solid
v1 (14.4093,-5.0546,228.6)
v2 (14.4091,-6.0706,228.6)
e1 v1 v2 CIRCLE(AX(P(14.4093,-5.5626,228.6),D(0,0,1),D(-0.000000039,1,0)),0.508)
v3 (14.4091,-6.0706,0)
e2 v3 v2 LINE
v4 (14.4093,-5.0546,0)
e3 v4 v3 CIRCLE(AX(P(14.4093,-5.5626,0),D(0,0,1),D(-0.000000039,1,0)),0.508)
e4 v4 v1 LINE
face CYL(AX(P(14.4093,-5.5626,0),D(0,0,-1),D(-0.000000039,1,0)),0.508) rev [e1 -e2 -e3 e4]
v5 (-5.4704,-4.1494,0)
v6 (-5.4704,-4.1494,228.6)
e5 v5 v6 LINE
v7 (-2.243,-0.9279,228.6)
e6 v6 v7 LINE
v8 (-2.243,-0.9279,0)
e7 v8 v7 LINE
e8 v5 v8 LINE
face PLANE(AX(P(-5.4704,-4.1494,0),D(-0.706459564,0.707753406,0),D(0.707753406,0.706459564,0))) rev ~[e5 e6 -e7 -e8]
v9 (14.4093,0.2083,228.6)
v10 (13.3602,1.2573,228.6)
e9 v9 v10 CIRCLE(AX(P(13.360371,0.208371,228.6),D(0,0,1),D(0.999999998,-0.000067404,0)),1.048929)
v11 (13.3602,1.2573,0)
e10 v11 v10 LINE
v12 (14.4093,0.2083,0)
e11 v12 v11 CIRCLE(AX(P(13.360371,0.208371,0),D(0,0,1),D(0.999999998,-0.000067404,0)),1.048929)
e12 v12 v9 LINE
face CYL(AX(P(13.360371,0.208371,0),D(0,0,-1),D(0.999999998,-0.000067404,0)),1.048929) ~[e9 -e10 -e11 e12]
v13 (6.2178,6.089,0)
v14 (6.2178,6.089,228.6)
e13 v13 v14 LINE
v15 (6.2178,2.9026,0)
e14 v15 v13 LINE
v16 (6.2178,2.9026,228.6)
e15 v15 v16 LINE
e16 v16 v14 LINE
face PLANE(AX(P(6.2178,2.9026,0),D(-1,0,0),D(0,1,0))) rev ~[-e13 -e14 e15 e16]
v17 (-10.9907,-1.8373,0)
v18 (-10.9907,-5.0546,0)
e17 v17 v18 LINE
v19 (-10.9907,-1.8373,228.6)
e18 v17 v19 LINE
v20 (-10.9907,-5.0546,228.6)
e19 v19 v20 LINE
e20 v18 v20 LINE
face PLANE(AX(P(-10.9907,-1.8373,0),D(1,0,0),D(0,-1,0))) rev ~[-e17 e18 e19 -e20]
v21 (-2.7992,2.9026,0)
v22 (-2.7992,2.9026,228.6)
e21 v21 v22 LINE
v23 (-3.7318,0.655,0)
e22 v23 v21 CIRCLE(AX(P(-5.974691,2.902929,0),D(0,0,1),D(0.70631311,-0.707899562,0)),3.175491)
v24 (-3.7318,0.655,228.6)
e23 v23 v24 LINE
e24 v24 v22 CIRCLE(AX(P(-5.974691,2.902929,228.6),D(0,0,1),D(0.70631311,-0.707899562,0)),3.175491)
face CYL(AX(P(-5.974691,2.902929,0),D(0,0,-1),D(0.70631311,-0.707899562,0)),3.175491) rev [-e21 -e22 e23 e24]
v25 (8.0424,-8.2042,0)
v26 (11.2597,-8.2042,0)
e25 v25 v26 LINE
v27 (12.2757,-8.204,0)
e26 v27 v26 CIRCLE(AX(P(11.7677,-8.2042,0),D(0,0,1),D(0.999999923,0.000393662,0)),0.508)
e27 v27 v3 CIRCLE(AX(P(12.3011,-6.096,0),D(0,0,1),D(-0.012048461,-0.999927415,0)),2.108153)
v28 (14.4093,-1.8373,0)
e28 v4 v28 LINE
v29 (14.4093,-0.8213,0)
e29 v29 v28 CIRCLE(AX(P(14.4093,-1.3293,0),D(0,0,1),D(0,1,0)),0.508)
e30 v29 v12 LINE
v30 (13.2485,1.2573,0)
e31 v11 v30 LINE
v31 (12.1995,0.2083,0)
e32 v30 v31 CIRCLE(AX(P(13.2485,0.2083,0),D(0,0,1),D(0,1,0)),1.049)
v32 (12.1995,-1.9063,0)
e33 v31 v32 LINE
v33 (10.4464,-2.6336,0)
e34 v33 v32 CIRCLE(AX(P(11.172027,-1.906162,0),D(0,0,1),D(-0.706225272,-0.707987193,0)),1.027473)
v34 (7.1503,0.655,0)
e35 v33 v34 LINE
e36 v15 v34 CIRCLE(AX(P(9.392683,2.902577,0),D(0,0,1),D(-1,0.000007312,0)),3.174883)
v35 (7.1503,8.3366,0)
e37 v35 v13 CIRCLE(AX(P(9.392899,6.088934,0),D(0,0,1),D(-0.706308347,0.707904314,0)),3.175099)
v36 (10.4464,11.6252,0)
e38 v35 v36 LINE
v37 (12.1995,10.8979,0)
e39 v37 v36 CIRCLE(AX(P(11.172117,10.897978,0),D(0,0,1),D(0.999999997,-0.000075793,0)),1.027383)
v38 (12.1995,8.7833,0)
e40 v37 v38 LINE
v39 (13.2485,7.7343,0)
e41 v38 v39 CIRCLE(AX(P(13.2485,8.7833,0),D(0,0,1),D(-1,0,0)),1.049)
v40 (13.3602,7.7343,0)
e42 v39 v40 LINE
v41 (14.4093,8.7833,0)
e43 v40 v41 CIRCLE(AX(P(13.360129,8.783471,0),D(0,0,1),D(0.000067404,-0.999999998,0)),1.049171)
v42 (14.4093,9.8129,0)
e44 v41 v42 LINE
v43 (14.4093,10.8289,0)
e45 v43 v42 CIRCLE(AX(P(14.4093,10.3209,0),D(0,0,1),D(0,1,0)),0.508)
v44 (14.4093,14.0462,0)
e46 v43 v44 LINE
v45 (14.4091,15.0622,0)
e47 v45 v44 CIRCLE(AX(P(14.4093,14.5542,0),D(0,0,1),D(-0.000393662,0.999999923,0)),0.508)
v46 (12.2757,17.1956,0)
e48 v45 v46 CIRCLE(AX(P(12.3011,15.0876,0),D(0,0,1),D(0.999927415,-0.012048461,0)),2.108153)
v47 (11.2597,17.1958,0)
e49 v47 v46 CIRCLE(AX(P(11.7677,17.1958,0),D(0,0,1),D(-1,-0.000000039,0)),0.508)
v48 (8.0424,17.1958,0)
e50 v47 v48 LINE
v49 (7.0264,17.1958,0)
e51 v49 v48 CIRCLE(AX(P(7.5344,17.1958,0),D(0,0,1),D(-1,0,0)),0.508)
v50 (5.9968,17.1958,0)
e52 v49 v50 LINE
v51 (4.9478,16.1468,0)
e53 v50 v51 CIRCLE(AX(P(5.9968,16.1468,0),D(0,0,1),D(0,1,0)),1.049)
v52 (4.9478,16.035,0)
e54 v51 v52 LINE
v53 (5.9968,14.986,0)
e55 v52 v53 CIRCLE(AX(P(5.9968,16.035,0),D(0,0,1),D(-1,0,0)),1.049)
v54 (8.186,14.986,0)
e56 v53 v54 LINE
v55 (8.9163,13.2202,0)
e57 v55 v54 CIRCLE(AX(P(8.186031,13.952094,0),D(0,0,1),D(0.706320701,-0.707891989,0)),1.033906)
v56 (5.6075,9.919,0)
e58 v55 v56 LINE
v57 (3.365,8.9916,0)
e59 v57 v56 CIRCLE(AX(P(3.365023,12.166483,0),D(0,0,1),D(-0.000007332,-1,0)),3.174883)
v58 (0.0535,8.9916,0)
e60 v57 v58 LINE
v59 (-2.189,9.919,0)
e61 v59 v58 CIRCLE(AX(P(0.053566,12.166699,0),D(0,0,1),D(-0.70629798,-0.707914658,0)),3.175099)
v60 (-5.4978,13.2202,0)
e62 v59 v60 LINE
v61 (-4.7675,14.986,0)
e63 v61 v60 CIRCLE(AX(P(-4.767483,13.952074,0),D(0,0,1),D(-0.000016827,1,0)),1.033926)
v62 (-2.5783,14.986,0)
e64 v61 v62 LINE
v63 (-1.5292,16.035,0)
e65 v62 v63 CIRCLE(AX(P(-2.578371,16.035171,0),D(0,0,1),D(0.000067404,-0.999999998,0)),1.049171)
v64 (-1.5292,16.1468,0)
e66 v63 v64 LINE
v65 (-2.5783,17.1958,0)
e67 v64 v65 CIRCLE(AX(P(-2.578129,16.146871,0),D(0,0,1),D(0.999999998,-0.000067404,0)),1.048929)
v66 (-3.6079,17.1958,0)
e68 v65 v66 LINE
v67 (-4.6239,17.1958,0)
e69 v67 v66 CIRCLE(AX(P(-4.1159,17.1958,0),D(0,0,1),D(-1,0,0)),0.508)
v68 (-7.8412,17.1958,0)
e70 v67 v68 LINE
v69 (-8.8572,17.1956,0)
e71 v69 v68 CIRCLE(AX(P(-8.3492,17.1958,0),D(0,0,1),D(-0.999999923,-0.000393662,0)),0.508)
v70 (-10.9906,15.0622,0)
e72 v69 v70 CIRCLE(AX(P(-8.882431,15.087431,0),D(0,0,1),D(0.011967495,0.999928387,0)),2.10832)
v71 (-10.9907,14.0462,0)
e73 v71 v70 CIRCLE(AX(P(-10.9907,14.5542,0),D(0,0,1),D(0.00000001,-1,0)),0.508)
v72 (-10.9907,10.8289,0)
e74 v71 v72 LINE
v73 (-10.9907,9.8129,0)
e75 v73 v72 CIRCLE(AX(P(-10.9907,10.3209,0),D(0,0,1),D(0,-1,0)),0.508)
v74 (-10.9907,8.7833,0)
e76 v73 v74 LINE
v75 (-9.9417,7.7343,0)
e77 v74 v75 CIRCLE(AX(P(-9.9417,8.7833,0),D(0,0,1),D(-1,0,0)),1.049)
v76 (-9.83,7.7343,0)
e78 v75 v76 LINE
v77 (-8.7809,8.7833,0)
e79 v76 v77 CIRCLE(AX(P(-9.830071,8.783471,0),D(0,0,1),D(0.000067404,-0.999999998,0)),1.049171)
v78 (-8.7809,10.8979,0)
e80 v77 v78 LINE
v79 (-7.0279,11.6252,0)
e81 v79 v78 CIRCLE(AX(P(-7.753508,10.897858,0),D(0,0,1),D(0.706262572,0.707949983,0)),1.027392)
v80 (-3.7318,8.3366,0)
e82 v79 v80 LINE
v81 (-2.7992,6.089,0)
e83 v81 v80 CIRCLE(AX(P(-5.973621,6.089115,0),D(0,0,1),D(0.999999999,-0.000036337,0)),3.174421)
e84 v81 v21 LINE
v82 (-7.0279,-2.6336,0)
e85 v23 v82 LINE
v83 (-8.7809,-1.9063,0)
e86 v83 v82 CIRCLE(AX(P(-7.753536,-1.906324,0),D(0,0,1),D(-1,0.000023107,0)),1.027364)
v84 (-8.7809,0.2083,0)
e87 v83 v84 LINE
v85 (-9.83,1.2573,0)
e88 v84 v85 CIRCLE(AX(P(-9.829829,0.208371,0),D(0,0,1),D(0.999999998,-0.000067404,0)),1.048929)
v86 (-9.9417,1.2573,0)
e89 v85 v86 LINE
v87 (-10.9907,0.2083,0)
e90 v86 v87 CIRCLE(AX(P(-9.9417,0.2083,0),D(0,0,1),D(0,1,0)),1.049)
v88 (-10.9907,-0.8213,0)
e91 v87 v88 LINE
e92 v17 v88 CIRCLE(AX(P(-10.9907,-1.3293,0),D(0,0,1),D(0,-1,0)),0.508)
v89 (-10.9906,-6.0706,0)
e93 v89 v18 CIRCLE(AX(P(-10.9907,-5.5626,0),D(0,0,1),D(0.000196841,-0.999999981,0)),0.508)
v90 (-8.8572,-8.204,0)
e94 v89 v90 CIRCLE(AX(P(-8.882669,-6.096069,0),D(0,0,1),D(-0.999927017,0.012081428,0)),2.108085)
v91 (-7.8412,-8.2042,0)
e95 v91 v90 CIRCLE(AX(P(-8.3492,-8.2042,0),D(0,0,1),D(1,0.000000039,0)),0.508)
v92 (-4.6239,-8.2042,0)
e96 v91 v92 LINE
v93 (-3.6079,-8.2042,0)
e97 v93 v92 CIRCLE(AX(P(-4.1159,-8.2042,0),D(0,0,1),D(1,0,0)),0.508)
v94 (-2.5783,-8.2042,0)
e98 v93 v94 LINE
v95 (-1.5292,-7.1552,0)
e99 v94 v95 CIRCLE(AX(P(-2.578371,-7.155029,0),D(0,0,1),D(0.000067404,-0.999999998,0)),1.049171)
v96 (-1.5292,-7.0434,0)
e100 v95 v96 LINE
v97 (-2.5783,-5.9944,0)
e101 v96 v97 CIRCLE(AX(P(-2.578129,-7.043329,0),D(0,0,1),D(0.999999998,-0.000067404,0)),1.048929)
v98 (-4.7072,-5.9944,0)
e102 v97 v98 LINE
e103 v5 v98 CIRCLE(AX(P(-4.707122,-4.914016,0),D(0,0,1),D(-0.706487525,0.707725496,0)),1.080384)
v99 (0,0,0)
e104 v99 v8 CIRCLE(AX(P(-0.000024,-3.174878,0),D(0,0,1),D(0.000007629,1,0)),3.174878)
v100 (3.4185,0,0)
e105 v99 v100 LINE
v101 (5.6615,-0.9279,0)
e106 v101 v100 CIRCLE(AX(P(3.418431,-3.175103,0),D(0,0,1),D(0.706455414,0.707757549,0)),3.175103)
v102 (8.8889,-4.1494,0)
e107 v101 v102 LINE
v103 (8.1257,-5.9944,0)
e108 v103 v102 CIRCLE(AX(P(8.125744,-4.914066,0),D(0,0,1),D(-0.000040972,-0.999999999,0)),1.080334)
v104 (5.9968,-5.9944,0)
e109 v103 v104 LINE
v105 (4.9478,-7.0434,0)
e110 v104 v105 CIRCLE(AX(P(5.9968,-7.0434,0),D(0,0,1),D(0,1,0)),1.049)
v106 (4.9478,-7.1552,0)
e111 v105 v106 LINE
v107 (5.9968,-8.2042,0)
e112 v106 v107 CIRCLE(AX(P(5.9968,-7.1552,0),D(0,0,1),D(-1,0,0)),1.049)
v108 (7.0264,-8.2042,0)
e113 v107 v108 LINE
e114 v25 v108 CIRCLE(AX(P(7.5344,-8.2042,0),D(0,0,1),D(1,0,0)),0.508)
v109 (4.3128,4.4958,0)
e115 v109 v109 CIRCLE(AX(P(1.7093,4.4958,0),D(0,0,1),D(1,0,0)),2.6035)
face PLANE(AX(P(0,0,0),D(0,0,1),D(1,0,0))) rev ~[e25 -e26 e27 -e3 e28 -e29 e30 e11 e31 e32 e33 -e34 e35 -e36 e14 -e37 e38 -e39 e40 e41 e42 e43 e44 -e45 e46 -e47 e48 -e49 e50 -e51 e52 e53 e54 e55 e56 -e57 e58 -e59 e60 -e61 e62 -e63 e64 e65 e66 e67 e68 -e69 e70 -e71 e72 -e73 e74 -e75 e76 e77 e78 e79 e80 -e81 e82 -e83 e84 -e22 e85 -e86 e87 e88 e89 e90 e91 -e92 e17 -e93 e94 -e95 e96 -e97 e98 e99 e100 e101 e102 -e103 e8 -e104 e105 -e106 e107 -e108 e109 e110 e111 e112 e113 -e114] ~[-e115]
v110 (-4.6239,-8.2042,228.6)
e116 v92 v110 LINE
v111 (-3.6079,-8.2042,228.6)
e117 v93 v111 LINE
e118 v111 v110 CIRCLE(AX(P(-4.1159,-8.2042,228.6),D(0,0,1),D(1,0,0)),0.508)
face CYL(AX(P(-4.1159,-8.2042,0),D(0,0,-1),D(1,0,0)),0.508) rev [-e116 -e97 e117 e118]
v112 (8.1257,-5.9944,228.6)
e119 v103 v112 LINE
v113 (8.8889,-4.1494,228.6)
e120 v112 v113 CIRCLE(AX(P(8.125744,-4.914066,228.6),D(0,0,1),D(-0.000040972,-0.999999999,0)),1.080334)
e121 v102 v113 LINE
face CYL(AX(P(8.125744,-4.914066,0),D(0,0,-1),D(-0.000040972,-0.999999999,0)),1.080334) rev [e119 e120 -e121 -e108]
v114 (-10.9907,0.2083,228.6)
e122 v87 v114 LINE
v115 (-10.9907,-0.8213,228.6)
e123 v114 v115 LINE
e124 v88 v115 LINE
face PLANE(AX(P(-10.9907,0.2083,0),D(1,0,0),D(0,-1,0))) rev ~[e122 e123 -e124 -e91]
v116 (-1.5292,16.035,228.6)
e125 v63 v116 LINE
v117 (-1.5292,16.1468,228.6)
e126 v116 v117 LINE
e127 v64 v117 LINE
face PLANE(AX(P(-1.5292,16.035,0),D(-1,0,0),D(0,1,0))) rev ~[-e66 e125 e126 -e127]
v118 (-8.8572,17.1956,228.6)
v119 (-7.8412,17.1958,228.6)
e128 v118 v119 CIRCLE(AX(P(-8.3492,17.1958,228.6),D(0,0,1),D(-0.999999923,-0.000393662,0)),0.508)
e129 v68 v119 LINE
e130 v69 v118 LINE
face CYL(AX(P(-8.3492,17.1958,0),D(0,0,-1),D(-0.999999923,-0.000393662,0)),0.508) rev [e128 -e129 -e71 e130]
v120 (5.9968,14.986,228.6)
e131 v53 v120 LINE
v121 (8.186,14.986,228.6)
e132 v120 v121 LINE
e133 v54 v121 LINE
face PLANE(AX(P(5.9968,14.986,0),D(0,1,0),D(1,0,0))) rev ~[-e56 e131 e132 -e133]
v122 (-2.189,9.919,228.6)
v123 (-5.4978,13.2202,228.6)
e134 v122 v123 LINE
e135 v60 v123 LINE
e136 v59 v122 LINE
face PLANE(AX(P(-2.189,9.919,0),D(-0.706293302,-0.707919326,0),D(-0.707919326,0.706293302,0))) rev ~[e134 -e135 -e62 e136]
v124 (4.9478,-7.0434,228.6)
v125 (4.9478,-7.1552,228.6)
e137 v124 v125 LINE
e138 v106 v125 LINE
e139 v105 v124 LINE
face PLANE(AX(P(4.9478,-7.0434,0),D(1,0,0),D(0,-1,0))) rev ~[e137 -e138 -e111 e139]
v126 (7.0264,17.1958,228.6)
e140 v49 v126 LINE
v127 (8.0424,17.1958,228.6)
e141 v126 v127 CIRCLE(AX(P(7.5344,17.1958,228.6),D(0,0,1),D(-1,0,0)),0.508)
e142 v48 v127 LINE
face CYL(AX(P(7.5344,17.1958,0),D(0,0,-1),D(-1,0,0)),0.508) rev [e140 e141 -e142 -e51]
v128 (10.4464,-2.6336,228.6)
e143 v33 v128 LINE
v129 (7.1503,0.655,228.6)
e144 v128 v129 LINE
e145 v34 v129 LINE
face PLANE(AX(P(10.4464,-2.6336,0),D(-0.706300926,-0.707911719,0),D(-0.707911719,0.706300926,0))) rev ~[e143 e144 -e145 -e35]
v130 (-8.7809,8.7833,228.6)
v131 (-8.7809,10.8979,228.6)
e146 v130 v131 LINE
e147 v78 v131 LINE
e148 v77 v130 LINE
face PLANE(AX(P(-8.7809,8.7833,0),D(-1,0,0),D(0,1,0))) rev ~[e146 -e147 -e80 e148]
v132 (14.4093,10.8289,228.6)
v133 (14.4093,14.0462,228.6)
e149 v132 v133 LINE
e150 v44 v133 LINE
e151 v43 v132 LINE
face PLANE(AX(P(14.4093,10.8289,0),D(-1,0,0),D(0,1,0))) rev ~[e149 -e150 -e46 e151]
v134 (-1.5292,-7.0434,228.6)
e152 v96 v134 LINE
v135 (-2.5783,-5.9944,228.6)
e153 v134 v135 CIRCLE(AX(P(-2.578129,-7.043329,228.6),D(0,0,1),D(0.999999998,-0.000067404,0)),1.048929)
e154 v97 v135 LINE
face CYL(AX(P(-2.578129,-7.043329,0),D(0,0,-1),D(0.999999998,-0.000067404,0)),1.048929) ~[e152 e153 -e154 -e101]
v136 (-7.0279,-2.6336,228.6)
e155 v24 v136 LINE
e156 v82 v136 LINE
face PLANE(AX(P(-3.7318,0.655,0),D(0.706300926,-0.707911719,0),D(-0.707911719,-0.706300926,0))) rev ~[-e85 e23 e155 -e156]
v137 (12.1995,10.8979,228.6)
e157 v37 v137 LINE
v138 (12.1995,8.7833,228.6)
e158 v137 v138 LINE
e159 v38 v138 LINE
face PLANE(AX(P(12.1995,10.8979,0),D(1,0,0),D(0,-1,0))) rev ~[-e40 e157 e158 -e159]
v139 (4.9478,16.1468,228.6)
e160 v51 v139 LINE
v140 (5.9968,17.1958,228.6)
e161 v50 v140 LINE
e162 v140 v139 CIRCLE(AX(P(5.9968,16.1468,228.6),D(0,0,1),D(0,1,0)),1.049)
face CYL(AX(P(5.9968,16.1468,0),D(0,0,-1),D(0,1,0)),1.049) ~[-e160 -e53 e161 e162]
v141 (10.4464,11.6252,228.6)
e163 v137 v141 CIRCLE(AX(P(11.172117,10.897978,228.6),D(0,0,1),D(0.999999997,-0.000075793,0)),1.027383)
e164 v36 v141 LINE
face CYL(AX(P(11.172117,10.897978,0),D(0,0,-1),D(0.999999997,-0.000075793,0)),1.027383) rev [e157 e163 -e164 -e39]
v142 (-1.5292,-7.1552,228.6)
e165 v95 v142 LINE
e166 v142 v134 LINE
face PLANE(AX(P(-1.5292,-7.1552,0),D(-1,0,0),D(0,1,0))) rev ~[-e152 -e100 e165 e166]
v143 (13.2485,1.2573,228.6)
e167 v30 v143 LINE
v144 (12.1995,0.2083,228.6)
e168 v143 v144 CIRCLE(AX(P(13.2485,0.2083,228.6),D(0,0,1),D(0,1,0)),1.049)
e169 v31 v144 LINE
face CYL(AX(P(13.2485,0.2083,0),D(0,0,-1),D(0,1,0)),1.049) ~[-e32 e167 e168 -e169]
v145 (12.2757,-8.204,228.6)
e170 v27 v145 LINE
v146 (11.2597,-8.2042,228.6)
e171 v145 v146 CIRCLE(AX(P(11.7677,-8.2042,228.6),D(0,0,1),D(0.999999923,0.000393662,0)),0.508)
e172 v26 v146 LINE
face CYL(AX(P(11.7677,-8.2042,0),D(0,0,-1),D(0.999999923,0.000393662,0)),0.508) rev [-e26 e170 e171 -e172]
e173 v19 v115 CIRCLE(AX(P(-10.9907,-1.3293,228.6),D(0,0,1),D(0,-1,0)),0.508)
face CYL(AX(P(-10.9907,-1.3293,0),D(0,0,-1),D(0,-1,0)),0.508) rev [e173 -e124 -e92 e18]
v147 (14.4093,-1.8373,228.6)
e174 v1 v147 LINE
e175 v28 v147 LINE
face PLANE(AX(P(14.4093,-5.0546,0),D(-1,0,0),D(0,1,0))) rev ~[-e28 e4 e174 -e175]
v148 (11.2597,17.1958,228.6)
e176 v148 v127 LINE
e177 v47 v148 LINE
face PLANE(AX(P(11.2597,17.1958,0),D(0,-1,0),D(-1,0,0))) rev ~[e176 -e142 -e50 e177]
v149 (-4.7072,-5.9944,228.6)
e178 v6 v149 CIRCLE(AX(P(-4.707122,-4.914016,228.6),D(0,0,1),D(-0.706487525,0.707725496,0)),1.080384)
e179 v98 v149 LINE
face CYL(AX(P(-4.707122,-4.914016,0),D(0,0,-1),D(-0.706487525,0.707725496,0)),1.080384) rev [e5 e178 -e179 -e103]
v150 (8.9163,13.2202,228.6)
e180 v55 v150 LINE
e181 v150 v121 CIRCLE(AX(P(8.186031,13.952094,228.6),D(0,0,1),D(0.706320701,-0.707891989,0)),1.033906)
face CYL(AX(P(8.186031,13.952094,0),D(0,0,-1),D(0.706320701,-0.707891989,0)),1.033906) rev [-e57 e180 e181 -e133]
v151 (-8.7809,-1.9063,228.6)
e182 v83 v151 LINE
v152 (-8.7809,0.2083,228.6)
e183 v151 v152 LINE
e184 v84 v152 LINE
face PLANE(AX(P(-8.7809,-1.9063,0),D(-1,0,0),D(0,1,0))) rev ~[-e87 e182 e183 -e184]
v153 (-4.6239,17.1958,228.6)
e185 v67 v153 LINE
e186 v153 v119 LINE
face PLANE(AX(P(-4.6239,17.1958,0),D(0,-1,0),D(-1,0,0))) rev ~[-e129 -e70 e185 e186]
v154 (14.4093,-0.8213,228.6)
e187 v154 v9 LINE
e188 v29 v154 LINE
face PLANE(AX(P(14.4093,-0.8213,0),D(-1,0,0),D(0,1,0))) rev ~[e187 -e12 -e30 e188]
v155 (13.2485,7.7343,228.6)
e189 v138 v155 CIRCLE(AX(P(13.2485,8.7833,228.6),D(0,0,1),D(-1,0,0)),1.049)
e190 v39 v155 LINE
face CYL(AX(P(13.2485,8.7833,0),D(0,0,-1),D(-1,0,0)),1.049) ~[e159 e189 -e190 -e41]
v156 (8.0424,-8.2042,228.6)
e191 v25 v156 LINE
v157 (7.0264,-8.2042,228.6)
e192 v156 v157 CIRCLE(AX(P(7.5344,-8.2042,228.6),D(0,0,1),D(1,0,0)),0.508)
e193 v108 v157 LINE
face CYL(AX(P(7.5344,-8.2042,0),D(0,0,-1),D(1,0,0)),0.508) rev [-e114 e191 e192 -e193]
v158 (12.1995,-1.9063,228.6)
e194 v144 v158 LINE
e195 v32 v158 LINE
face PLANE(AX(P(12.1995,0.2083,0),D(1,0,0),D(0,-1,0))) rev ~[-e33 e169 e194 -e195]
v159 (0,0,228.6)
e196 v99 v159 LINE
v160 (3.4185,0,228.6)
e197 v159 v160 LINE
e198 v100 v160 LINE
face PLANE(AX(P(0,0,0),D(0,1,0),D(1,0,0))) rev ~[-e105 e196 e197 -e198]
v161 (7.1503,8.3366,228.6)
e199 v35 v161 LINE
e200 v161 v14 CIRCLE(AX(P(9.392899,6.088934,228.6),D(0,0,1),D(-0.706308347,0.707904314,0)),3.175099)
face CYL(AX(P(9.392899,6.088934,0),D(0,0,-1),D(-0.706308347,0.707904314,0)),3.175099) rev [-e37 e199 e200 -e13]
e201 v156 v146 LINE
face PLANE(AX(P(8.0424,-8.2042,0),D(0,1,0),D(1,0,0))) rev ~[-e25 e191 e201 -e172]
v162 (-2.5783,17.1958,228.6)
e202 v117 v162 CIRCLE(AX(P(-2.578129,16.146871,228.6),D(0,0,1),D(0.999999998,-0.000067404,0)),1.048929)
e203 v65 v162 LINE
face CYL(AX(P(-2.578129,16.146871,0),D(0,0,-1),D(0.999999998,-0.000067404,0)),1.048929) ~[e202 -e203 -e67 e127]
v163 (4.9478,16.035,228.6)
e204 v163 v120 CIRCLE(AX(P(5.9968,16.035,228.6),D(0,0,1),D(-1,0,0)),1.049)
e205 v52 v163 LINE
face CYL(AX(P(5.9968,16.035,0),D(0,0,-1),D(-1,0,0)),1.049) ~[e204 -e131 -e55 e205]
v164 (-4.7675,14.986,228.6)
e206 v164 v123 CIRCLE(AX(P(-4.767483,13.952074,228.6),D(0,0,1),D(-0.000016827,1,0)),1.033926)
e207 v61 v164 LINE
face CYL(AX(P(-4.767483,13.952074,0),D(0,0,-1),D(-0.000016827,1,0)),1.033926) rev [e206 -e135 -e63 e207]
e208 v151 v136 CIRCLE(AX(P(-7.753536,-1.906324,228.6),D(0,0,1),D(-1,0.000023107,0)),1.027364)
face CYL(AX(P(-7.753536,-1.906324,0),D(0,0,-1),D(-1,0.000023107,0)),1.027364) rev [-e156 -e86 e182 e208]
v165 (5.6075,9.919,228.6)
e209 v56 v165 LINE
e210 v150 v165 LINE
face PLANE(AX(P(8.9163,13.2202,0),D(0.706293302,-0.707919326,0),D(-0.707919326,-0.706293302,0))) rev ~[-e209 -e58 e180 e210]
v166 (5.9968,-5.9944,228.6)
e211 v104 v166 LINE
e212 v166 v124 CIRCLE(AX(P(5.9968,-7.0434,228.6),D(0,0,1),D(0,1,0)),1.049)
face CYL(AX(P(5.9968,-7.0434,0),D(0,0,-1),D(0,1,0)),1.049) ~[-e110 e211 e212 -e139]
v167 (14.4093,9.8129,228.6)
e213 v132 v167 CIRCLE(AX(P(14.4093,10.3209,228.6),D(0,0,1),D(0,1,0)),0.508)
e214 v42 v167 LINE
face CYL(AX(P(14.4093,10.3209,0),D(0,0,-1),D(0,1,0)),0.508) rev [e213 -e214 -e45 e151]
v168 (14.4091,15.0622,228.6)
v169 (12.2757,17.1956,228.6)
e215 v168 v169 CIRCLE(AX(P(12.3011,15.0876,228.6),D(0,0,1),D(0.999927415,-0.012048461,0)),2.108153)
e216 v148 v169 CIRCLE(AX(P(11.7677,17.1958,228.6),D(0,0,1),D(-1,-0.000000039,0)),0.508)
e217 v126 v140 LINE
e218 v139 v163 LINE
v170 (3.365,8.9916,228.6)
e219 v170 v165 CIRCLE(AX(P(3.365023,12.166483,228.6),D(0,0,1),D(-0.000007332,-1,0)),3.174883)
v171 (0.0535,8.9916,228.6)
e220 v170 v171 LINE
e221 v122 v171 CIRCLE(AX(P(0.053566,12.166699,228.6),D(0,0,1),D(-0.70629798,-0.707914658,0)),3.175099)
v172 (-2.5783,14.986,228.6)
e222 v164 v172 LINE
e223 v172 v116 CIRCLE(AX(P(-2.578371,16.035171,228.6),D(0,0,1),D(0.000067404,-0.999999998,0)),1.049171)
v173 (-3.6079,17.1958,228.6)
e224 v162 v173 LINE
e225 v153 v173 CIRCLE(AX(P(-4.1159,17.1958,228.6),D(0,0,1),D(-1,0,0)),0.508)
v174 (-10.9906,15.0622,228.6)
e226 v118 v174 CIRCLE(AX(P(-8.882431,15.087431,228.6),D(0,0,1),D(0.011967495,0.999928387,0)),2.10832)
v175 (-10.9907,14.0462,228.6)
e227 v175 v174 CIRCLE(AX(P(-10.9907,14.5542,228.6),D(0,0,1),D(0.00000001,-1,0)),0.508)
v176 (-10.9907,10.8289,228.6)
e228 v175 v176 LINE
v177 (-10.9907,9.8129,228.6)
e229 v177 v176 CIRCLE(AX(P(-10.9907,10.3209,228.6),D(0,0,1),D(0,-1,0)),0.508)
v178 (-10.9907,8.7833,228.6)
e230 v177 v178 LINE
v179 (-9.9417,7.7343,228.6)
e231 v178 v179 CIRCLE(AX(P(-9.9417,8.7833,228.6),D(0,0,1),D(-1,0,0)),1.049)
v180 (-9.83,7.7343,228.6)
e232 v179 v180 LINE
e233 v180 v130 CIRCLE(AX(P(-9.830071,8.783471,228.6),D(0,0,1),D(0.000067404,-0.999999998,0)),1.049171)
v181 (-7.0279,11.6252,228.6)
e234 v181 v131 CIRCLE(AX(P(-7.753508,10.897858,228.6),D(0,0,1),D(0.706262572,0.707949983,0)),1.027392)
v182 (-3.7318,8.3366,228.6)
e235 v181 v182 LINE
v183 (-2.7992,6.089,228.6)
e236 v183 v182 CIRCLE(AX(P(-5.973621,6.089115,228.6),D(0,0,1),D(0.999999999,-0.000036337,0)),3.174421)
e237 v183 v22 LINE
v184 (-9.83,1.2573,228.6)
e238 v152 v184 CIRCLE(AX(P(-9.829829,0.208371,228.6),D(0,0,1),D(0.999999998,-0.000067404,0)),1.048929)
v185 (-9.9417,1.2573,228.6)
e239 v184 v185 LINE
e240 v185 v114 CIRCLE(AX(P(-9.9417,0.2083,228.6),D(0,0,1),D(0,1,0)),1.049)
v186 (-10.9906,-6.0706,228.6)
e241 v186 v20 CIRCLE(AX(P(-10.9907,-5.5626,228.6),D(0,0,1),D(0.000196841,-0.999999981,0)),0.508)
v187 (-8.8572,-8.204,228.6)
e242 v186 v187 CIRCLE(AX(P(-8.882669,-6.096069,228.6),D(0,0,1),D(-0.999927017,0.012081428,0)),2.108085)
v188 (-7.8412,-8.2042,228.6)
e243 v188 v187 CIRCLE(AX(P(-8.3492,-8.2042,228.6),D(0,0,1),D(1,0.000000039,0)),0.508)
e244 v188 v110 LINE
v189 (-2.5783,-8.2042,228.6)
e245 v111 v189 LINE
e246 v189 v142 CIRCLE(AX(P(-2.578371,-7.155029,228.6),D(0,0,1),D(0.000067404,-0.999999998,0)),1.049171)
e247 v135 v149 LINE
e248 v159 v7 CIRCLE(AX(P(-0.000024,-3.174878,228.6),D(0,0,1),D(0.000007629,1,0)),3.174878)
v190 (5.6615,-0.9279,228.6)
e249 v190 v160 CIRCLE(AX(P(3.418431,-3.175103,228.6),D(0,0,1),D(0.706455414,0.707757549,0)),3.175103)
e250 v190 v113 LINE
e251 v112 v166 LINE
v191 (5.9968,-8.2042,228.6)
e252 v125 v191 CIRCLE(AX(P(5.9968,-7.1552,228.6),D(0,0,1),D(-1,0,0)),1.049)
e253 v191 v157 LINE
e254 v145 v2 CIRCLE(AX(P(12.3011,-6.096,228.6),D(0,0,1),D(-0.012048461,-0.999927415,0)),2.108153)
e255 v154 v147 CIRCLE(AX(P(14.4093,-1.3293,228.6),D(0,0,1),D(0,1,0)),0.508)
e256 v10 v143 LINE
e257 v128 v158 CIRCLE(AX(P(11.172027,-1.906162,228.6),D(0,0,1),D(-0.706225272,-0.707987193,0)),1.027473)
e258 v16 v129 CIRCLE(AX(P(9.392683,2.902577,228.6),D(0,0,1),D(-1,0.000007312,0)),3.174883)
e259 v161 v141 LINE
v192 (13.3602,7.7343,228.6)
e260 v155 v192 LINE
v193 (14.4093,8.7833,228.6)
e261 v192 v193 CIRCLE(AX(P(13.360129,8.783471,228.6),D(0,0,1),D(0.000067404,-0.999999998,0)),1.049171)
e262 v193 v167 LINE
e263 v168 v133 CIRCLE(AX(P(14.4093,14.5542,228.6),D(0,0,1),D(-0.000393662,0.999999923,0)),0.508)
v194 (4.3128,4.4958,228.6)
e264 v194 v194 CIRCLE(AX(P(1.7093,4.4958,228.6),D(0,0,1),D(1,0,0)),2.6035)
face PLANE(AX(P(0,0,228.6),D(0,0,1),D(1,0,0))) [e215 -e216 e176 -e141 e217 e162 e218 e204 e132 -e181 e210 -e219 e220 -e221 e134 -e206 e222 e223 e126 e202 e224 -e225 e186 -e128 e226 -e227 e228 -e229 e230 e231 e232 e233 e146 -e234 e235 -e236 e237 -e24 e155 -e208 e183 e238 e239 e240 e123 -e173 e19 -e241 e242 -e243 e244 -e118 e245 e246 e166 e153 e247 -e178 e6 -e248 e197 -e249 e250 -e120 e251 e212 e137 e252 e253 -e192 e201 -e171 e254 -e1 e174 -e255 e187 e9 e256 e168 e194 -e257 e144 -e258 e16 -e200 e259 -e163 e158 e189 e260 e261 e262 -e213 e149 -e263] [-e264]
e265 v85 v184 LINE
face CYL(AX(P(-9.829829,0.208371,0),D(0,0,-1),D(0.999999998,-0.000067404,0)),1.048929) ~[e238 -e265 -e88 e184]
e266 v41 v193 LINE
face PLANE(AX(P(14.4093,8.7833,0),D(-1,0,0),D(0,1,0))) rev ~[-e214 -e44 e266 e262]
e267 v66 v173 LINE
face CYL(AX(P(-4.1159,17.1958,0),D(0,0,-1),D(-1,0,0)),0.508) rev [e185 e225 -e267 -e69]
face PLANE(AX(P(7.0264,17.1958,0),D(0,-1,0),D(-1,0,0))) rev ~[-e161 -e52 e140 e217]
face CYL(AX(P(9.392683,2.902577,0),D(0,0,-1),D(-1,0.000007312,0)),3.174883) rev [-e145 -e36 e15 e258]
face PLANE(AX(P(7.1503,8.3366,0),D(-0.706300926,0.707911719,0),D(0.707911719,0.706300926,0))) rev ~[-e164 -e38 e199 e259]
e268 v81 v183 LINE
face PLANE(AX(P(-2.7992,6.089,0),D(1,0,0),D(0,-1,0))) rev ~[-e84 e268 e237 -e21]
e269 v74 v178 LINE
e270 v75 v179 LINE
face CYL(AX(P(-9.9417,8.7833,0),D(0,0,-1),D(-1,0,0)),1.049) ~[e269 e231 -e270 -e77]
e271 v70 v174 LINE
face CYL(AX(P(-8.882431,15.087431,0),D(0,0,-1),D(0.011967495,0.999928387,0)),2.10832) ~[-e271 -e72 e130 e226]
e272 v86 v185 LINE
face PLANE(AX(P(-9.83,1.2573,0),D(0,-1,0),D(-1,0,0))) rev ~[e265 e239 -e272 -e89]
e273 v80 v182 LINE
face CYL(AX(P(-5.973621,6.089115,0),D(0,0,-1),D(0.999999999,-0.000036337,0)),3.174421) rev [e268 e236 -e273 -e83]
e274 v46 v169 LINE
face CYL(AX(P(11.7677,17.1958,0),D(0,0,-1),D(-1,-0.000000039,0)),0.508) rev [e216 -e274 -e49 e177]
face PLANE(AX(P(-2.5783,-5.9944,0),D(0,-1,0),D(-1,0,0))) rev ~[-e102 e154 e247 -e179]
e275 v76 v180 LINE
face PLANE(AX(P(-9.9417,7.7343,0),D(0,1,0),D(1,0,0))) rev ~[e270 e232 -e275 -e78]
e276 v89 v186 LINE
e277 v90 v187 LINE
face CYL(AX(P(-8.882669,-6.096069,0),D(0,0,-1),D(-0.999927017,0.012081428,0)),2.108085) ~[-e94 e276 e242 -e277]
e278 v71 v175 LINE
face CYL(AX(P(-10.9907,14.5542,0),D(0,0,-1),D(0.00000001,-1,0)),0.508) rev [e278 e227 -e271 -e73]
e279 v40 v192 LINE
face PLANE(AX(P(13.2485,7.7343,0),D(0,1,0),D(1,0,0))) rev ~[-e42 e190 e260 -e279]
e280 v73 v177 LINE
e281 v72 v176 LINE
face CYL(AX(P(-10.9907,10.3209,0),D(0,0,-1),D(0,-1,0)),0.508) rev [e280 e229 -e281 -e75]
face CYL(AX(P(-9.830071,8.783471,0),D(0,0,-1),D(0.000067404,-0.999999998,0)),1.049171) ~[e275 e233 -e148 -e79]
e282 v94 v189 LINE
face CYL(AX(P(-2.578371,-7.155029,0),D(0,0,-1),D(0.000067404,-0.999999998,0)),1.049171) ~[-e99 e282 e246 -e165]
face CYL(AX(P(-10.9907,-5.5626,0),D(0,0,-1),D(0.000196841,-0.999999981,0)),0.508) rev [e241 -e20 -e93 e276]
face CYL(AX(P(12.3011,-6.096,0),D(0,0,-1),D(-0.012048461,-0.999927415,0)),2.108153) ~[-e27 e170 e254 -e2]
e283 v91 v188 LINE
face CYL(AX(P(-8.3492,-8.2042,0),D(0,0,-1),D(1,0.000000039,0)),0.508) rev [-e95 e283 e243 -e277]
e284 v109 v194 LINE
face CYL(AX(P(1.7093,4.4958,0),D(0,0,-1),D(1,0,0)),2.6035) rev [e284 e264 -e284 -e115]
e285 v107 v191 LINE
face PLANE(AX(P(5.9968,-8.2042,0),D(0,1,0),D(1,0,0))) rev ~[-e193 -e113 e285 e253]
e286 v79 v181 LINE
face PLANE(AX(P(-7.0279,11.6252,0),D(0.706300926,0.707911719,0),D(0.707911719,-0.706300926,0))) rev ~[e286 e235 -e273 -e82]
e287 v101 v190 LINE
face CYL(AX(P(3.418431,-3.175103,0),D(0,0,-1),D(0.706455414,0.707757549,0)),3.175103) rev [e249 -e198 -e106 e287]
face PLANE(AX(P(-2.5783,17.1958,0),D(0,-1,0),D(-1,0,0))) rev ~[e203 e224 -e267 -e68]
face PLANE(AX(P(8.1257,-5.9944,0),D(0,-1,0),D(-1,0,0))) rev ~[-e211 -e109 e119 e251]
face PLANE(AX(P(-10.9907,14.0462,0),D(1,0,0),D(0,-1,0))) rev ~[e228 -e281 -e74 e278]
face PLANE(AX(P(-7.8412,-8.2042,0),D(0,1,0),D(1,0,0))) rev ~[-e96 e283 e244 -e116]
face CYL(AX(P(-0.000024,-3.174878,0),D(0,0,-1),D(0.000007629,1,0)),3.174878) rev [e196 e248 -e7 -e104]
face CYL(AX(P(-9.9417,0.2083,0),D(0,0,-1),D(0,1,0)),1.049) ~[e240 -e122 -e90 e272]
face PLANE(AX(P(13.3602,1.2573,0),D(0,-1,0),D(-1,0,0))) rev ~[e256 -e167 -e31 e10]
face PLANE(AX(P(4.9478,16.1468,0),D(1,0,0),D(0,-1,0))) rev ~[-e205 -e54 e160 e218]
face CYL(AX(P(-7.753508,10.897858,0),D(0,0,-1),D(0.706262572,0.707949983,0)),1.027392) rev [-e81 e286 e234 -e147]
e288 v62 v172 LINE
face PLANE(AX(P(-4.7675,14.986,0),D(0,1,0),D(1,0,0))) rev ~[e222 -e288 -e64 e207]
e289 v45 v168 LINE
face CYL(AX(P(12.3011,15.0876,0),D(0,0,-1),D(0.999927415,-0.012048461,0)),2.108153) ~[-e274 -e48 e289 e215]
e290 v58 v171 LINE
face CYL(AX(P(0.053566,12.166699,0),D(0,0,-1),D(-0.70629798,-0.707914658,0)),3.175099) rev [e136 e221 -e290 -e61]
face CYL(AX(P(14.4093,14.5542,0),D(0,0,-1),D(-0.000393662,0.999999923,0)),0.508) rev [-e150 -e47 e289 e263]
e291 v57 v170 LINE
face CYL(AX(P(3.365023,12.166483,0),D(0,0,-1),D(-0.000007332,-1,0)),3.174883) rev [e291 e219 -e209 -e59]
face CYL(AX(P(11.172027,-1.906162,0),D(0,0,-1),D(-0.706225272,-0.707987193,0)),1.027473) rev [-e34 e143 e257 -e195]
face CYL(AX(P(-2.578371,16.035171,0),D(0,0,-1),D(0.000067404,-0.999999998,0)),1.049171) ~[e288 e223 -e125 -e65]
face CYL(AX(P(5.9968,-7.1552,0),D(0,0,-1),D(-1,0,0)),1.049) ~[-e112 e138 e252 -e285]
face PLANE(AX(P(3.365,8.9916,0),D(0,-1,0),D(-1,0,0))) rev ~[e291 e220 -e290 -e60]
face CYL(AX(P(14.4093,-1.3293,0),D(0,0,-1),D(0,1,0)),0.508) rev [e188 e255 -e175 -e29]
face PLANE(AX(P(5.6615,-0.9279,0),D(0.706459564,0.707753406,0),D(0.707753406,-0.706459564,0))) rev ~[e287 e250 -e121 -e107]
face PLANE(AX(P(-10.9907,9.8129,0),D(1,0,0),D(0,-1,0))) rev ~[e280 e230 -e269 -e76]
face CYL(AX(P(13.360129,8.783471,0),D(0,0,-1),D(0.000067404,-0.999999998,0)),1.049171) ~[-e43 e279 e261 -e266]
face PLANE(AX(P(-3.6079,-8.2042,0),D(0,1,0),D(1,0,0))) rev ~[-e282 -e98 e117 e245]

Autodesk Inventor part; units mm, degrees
ref_plane "YZ Plane" through (0, 0, 0) normal (1, 0, 0) x (0, 1, 0)
ref_plane "XZ Plane" through (0, 0, 0) normal (0, 1, 0) x (-1, 0, 0)
ref_plane "XY Plane" through (0, 0, 0) normal (0, 0, 1) x (1, 0, 0)
sketch "Sketch1" plane through (0, 0, 0) normal (0, 0, 1) x (1, 0, 0)
  arc A0 (-5.4704, -4.1494) -> (-4.7072, -5.9944) centre (-4.7072, -4.914) ccw
  line L0 (-5.4704, -4.1494) -> (-2.243, -0.9279)
  arc A1 (0, 0) -> (-2.243, -0.9279) centre (0, -3.175) ccw
  line L1 (0, 0) -> (3.4185, 0)
  arc A2 (5.6615, -0.9279) -> (3.4185, 0) centre (3.4185, -3.175) ccw
  line L2 (5.6615, -0.9279) -> (8.8889, -4.1494)
  arc A3 (8.1257, -5.9944) -> (8.8889, -4.1494) centre (8.1257, -4.914) ccw
  line L3 (8.1257, -5.9944) -> (5.9968, -5.9944)
  arc A4 (5.9968, -5.9944) -> (4.9478, -7.0434) centre (5.9968, -7.0434) ccw
  line L4 (4.9478, -7.0434) -> (4.9478, -7.1552)
  arc A5 (4.9478, -7.1552) -> (5.9968, -8.2042) centre (5.9968, -7.1552) ccw
  line L5 (5.9968, -8.2042) -> (7.0264, -8.2042)
  arc A6 (8.0424, -8.2042) -> (7.0264, -8.2042) centre (7.5344, -8.2042) ccw
  line L6 (8.0424, -8.2042) -> (11.2597, -8.2042)
  arc A7 (12.2757, -8.204) -> (11.2597, -8.2042) centre (11.7677, -8.2042) ccw
  arc A8 (12.2757, -8.204) -> (14.4091, -6.0706) centre (12.3011, -6.096) ccw
  arc A9 (14.4093, -5.0546) -> (14.4091, -6.0706) centre (14.4093, -5.5626) ccw
  line L7 (14.4093, -5.0546) -> (14.4093, -1.8373)
  arc A10 (14.4093, -0.8213) -> (14.4093, -1.8373) centre (14.4093, -1.3293) ccw
  line L8 (14.4093, -0.8213) -> (14.4093, 0.2083)
  arc A11 (14.4093, 0.2083) -> (13.3602, 1.2573) centre (13.3602, 0.2083) ccw
  line L9 (13.3602, 1.2573) -> (13.2485, 1.2573)
  arc A12 (13.2485, 1.2573) -> (12.1995, 0.2083) centre (13.2485, 0.2083) ccw
  line L10 (12.1995, 0.2083) -> (12.1995, -1.9063)
  arc A13 (10.4464, -2.6336) -> (12.1995, -1.9063) centre (11.172, -1.9063) ccw
  line L11 (10.4464, -2.6336) -> (7.1503, 0.655)
  arc A14 (6.2178, 2.9026) -> (7.1503, 0.655) centre (9.3928, 2.9026) ccw
  line L12 (6.2178, 2.9026) -> (6.2178, 6.089)
  arc A15 (7.1503, 8.3366) -> (6.2178, 6.089) centre (9.3928, 6.089) ccw
  line L13 (7.1503, 8.3366) -> (10.4464, 11.6252)
  arc A16 (12.1995, 10.8979) -> (10.4464, 11.6252) centre (11.172, 10.8979) ccw
  line L14 (12.1995, 10.8979) -> (12.1995, 8.7833)
  arc A17 (12.1995, 8.7833) -> (13.2485, 7.7343) centre (13.2485, 8.7833) ccw
  line L15 (13.2485, 7.7343) -> (13.3602, 7.7343)
  arc A18 (13.3602, 7.7343) -> (14.4093, 8.7833) centre (13.3602, 8.7833) ccw
  line L16 (14.4093, 8.7833) -> (14.4093, 9.8129)
  arc A19 (14.4093, 10.8289) -> (14.4093, 9.8129) centre (14.4093, 10.3209) ccw
  line L17 (14.4093, 10.8289) -> (14.4093, 14.0462)
  arc A20 (14.4091, 15.0622) -> (14.4093, 14.0462) centre (14.4093, 14.5542) ccw
  arc A21 (14.4091, 15.0622) -> (12.2757, 17.1956) centre (12.3011, 15.0876) ccw
  arc A22 (11.2597, 17.1958) -> (12.2757, 17.1956) centre (11.7677, 17.1958) ccw
  line L18 (11.2597, 17.1958) -> (8.0424, 17.1958)
  arc A23 (7.0264, 17.1958) -> (8.0424, 17.1958) centre (7.5344, 17.1958) ccw
  line L19 (7.0264, 17.1958) -> (5.9968, 17.1958)
  arc A24 (5.9968, 17.1958) -> (4.9478, 16.1468) centre (5.9968, 16.1468) ccw
  line L20 (4.9478, 16.1468) -> (4.9478, 16.035)
  arc A25 (4.9478, 16.035) -> (5.9968, 14.986) centre (5.9968, 16.035) ccw
  line L21 (5.9968, 14.986) -> (8.186, 14.986)
  arc A26 (8.9163, 13.2202) -> (8.186, 14.986) centre (8.186, 13.9521) ccw
  line L22 (8.9163, 13.2202) -> (5.6075, 9.919)
  arc A27 (3.365, 8.9916) -> (5.6075, 9.919) centre (3.365, 12.1666) ccw
  line L23 (3.365, 8.9916) -> (0.0535, 8.9916)
  arc A28 (-2.189, 9.919) -> (0.0535, 8.9916) centre (0.0535, 12.1666) ccw
  line L24 (-2.189, 9.919) -> (-5.4978, 13.2202)
  arc A29 (-4.7675, 14.986) -> (-5.4978, 13.2202) centre (-4.7675, 13.9521) ccw
  line L25 (-4.7675, 14.986) -> (-2.5783, 14.986)
  arc A30 (-2.5783, 14.986) -> (-1.5292, 16.035) centre (-2.5783, 16.035) ccw
  line L26 (-1.5292, 16.035) -> (-1.5292, 16.1468)
  arc A31 (-1.5292, 16.1468) -> (-2.5783, 17.1958) centre (-2.5783, 16.1468) ccw
  line L27 (-2.5783, 17.1958) -> (-3.6079, 17.1958)
  arc A32 (-4.6239, 17.1958) -> (-3.6079, 17.1958) centre (-4.1159, 17.1958) ccw
  line L28 (-4.6239, 17.1958) -> (-7.8412, 17.1958)
  arc A33 (-8.8572, 17.1956) -> (-7.8412, 17.1958) centre (-8.3492, 17.1958) ccw
  arc A34 (-8.8572, 17.1956) -> (-10.9906, 15.0622) centre (-8.8825, 15.0876) ccw
  arc A35 (-10.9907, 14.0462) -> (-10.9906, 15.0622) centre (-10.9907, 14.5542) ccw
  line L29 (-10.9907, 14.0462) -> (-10.9907, 10.8289)
  arc A36 (-10.9907, 9.8129) -> (-10.9907, 10.8289) centre (-10.9907, 10.3209) ccw
  line L30 (-10.9907, 9.8129) -> (-10.9907, 8.7833)
  arc A37 (-10.9907, 8.7833) -> (-9.9417, 7.7343) centre (-9.9417, 8.7833) ccw
  line L31 (-9.9417, 7.7343) -> (-9.83, 7.7343)
  arc A38 (-9.83, 7.7343) -> (-8.7809, 8.7833) centre (-9.83, 8.7833) ccw
  line L32 (-8.7809, 8.7833) -> (-8.7809, 10.8979)
  arc A39 (-7.0279, 11.6252) -> (-8.7809, 10.8979) centre (-7.7535, 10.8979) ccw
  line L33 (-7.0279, 11.6252) -> (-3.7318, 8.3366)
  arc A40 (-2.7992, 6.089) -> (-3.7318, 8.3366) centre (-5.9742, 6.089) ccw
  line L34 (-2.7992, 6.089) -> (-2.7992, 2.9026)
  arc A41 (-3.7318, 0.655) -> (-2.7992, 2.9026) centre (-5.9742, 2.9026) ccw
  line L35 (-3.7318, 0.655) -> (-7.0279, -2.6336)
  arc A42 (-8.7809, -1.9063) -> (-7.0279, -2.6336) centre (-7.7535, -1.9063) ccw
  line L36 (-8.7809, -1.9063) -> (-8.7809, 0.2083)
  arc A43 (-8.7809, 0.2083) -> (-9.83, 1.2573) centre (-9.83, 0.2083) ccw
  line L37 (-9.83, 1.2573) -> (-9.9417, 1.2573)
  arc A44 (-9.9417, 1.2573) -> (-10.9907, 0.2083) centre (-9.9417, 0.2083) ccw
  line L38 (-10.9907, 0.2083) -> (-10.9907, -0.8213)
  arc A45 (-10.9907, -1.8373) -> (-10.9907, -0.8213) centre (-10.9907, -1.3293) ccw
  line L39 (-10.9907, -1.8373) -> (-10.9907, -5.0546)
  arc A46 (-10.9906, -6.0706) -> (-10.9907, -5.0546) centre (-10.9907, -5.5626) ccw
  arc A47 (-10.9906, -6.0706) -> (-8.8572, -8.204) centre (-8.8825, -6.096) ccw
  arc A48 (-7.8412, -8.2042) -> (-8.8572, -8.204) centre (-8.3492, -8.2042) ccw
  line L40 (-7.8412, -8.2042) -> (-4.6239, -8.2042)
  arc A49 (-3.6079, -8.2042) -> (-4.6239, -8.2042) centre (-4.1159, -8.2042) ccw
  line L41 (-3.6079, -8.2042) -> (-2.5783, -8.2042)
  arc A50 (-2.5783, -8.2042) -> (-1.5292, -7.1552) centre (-2.5783, -7.1552) ccw
  line L42 (-1.5292, -7.1552) -> (-1.5292, -7.0434)
  arc A51 (-1.5292, -7.0434) -> (-2.5783, -5.9944) centre (-2.5783, -7.0434) ccw
  line L43 (-2.5783, -5.9944) -> (-4.7072, -5.9944)
  circle A52 centre (1.7093, 4.4958) radius 2.6035
extrude "Extrusion1" add sketch "Sketch1" along normal blind 228.6
properties part number "9 in 1x1 T slot" material "Steel, Alloy"
